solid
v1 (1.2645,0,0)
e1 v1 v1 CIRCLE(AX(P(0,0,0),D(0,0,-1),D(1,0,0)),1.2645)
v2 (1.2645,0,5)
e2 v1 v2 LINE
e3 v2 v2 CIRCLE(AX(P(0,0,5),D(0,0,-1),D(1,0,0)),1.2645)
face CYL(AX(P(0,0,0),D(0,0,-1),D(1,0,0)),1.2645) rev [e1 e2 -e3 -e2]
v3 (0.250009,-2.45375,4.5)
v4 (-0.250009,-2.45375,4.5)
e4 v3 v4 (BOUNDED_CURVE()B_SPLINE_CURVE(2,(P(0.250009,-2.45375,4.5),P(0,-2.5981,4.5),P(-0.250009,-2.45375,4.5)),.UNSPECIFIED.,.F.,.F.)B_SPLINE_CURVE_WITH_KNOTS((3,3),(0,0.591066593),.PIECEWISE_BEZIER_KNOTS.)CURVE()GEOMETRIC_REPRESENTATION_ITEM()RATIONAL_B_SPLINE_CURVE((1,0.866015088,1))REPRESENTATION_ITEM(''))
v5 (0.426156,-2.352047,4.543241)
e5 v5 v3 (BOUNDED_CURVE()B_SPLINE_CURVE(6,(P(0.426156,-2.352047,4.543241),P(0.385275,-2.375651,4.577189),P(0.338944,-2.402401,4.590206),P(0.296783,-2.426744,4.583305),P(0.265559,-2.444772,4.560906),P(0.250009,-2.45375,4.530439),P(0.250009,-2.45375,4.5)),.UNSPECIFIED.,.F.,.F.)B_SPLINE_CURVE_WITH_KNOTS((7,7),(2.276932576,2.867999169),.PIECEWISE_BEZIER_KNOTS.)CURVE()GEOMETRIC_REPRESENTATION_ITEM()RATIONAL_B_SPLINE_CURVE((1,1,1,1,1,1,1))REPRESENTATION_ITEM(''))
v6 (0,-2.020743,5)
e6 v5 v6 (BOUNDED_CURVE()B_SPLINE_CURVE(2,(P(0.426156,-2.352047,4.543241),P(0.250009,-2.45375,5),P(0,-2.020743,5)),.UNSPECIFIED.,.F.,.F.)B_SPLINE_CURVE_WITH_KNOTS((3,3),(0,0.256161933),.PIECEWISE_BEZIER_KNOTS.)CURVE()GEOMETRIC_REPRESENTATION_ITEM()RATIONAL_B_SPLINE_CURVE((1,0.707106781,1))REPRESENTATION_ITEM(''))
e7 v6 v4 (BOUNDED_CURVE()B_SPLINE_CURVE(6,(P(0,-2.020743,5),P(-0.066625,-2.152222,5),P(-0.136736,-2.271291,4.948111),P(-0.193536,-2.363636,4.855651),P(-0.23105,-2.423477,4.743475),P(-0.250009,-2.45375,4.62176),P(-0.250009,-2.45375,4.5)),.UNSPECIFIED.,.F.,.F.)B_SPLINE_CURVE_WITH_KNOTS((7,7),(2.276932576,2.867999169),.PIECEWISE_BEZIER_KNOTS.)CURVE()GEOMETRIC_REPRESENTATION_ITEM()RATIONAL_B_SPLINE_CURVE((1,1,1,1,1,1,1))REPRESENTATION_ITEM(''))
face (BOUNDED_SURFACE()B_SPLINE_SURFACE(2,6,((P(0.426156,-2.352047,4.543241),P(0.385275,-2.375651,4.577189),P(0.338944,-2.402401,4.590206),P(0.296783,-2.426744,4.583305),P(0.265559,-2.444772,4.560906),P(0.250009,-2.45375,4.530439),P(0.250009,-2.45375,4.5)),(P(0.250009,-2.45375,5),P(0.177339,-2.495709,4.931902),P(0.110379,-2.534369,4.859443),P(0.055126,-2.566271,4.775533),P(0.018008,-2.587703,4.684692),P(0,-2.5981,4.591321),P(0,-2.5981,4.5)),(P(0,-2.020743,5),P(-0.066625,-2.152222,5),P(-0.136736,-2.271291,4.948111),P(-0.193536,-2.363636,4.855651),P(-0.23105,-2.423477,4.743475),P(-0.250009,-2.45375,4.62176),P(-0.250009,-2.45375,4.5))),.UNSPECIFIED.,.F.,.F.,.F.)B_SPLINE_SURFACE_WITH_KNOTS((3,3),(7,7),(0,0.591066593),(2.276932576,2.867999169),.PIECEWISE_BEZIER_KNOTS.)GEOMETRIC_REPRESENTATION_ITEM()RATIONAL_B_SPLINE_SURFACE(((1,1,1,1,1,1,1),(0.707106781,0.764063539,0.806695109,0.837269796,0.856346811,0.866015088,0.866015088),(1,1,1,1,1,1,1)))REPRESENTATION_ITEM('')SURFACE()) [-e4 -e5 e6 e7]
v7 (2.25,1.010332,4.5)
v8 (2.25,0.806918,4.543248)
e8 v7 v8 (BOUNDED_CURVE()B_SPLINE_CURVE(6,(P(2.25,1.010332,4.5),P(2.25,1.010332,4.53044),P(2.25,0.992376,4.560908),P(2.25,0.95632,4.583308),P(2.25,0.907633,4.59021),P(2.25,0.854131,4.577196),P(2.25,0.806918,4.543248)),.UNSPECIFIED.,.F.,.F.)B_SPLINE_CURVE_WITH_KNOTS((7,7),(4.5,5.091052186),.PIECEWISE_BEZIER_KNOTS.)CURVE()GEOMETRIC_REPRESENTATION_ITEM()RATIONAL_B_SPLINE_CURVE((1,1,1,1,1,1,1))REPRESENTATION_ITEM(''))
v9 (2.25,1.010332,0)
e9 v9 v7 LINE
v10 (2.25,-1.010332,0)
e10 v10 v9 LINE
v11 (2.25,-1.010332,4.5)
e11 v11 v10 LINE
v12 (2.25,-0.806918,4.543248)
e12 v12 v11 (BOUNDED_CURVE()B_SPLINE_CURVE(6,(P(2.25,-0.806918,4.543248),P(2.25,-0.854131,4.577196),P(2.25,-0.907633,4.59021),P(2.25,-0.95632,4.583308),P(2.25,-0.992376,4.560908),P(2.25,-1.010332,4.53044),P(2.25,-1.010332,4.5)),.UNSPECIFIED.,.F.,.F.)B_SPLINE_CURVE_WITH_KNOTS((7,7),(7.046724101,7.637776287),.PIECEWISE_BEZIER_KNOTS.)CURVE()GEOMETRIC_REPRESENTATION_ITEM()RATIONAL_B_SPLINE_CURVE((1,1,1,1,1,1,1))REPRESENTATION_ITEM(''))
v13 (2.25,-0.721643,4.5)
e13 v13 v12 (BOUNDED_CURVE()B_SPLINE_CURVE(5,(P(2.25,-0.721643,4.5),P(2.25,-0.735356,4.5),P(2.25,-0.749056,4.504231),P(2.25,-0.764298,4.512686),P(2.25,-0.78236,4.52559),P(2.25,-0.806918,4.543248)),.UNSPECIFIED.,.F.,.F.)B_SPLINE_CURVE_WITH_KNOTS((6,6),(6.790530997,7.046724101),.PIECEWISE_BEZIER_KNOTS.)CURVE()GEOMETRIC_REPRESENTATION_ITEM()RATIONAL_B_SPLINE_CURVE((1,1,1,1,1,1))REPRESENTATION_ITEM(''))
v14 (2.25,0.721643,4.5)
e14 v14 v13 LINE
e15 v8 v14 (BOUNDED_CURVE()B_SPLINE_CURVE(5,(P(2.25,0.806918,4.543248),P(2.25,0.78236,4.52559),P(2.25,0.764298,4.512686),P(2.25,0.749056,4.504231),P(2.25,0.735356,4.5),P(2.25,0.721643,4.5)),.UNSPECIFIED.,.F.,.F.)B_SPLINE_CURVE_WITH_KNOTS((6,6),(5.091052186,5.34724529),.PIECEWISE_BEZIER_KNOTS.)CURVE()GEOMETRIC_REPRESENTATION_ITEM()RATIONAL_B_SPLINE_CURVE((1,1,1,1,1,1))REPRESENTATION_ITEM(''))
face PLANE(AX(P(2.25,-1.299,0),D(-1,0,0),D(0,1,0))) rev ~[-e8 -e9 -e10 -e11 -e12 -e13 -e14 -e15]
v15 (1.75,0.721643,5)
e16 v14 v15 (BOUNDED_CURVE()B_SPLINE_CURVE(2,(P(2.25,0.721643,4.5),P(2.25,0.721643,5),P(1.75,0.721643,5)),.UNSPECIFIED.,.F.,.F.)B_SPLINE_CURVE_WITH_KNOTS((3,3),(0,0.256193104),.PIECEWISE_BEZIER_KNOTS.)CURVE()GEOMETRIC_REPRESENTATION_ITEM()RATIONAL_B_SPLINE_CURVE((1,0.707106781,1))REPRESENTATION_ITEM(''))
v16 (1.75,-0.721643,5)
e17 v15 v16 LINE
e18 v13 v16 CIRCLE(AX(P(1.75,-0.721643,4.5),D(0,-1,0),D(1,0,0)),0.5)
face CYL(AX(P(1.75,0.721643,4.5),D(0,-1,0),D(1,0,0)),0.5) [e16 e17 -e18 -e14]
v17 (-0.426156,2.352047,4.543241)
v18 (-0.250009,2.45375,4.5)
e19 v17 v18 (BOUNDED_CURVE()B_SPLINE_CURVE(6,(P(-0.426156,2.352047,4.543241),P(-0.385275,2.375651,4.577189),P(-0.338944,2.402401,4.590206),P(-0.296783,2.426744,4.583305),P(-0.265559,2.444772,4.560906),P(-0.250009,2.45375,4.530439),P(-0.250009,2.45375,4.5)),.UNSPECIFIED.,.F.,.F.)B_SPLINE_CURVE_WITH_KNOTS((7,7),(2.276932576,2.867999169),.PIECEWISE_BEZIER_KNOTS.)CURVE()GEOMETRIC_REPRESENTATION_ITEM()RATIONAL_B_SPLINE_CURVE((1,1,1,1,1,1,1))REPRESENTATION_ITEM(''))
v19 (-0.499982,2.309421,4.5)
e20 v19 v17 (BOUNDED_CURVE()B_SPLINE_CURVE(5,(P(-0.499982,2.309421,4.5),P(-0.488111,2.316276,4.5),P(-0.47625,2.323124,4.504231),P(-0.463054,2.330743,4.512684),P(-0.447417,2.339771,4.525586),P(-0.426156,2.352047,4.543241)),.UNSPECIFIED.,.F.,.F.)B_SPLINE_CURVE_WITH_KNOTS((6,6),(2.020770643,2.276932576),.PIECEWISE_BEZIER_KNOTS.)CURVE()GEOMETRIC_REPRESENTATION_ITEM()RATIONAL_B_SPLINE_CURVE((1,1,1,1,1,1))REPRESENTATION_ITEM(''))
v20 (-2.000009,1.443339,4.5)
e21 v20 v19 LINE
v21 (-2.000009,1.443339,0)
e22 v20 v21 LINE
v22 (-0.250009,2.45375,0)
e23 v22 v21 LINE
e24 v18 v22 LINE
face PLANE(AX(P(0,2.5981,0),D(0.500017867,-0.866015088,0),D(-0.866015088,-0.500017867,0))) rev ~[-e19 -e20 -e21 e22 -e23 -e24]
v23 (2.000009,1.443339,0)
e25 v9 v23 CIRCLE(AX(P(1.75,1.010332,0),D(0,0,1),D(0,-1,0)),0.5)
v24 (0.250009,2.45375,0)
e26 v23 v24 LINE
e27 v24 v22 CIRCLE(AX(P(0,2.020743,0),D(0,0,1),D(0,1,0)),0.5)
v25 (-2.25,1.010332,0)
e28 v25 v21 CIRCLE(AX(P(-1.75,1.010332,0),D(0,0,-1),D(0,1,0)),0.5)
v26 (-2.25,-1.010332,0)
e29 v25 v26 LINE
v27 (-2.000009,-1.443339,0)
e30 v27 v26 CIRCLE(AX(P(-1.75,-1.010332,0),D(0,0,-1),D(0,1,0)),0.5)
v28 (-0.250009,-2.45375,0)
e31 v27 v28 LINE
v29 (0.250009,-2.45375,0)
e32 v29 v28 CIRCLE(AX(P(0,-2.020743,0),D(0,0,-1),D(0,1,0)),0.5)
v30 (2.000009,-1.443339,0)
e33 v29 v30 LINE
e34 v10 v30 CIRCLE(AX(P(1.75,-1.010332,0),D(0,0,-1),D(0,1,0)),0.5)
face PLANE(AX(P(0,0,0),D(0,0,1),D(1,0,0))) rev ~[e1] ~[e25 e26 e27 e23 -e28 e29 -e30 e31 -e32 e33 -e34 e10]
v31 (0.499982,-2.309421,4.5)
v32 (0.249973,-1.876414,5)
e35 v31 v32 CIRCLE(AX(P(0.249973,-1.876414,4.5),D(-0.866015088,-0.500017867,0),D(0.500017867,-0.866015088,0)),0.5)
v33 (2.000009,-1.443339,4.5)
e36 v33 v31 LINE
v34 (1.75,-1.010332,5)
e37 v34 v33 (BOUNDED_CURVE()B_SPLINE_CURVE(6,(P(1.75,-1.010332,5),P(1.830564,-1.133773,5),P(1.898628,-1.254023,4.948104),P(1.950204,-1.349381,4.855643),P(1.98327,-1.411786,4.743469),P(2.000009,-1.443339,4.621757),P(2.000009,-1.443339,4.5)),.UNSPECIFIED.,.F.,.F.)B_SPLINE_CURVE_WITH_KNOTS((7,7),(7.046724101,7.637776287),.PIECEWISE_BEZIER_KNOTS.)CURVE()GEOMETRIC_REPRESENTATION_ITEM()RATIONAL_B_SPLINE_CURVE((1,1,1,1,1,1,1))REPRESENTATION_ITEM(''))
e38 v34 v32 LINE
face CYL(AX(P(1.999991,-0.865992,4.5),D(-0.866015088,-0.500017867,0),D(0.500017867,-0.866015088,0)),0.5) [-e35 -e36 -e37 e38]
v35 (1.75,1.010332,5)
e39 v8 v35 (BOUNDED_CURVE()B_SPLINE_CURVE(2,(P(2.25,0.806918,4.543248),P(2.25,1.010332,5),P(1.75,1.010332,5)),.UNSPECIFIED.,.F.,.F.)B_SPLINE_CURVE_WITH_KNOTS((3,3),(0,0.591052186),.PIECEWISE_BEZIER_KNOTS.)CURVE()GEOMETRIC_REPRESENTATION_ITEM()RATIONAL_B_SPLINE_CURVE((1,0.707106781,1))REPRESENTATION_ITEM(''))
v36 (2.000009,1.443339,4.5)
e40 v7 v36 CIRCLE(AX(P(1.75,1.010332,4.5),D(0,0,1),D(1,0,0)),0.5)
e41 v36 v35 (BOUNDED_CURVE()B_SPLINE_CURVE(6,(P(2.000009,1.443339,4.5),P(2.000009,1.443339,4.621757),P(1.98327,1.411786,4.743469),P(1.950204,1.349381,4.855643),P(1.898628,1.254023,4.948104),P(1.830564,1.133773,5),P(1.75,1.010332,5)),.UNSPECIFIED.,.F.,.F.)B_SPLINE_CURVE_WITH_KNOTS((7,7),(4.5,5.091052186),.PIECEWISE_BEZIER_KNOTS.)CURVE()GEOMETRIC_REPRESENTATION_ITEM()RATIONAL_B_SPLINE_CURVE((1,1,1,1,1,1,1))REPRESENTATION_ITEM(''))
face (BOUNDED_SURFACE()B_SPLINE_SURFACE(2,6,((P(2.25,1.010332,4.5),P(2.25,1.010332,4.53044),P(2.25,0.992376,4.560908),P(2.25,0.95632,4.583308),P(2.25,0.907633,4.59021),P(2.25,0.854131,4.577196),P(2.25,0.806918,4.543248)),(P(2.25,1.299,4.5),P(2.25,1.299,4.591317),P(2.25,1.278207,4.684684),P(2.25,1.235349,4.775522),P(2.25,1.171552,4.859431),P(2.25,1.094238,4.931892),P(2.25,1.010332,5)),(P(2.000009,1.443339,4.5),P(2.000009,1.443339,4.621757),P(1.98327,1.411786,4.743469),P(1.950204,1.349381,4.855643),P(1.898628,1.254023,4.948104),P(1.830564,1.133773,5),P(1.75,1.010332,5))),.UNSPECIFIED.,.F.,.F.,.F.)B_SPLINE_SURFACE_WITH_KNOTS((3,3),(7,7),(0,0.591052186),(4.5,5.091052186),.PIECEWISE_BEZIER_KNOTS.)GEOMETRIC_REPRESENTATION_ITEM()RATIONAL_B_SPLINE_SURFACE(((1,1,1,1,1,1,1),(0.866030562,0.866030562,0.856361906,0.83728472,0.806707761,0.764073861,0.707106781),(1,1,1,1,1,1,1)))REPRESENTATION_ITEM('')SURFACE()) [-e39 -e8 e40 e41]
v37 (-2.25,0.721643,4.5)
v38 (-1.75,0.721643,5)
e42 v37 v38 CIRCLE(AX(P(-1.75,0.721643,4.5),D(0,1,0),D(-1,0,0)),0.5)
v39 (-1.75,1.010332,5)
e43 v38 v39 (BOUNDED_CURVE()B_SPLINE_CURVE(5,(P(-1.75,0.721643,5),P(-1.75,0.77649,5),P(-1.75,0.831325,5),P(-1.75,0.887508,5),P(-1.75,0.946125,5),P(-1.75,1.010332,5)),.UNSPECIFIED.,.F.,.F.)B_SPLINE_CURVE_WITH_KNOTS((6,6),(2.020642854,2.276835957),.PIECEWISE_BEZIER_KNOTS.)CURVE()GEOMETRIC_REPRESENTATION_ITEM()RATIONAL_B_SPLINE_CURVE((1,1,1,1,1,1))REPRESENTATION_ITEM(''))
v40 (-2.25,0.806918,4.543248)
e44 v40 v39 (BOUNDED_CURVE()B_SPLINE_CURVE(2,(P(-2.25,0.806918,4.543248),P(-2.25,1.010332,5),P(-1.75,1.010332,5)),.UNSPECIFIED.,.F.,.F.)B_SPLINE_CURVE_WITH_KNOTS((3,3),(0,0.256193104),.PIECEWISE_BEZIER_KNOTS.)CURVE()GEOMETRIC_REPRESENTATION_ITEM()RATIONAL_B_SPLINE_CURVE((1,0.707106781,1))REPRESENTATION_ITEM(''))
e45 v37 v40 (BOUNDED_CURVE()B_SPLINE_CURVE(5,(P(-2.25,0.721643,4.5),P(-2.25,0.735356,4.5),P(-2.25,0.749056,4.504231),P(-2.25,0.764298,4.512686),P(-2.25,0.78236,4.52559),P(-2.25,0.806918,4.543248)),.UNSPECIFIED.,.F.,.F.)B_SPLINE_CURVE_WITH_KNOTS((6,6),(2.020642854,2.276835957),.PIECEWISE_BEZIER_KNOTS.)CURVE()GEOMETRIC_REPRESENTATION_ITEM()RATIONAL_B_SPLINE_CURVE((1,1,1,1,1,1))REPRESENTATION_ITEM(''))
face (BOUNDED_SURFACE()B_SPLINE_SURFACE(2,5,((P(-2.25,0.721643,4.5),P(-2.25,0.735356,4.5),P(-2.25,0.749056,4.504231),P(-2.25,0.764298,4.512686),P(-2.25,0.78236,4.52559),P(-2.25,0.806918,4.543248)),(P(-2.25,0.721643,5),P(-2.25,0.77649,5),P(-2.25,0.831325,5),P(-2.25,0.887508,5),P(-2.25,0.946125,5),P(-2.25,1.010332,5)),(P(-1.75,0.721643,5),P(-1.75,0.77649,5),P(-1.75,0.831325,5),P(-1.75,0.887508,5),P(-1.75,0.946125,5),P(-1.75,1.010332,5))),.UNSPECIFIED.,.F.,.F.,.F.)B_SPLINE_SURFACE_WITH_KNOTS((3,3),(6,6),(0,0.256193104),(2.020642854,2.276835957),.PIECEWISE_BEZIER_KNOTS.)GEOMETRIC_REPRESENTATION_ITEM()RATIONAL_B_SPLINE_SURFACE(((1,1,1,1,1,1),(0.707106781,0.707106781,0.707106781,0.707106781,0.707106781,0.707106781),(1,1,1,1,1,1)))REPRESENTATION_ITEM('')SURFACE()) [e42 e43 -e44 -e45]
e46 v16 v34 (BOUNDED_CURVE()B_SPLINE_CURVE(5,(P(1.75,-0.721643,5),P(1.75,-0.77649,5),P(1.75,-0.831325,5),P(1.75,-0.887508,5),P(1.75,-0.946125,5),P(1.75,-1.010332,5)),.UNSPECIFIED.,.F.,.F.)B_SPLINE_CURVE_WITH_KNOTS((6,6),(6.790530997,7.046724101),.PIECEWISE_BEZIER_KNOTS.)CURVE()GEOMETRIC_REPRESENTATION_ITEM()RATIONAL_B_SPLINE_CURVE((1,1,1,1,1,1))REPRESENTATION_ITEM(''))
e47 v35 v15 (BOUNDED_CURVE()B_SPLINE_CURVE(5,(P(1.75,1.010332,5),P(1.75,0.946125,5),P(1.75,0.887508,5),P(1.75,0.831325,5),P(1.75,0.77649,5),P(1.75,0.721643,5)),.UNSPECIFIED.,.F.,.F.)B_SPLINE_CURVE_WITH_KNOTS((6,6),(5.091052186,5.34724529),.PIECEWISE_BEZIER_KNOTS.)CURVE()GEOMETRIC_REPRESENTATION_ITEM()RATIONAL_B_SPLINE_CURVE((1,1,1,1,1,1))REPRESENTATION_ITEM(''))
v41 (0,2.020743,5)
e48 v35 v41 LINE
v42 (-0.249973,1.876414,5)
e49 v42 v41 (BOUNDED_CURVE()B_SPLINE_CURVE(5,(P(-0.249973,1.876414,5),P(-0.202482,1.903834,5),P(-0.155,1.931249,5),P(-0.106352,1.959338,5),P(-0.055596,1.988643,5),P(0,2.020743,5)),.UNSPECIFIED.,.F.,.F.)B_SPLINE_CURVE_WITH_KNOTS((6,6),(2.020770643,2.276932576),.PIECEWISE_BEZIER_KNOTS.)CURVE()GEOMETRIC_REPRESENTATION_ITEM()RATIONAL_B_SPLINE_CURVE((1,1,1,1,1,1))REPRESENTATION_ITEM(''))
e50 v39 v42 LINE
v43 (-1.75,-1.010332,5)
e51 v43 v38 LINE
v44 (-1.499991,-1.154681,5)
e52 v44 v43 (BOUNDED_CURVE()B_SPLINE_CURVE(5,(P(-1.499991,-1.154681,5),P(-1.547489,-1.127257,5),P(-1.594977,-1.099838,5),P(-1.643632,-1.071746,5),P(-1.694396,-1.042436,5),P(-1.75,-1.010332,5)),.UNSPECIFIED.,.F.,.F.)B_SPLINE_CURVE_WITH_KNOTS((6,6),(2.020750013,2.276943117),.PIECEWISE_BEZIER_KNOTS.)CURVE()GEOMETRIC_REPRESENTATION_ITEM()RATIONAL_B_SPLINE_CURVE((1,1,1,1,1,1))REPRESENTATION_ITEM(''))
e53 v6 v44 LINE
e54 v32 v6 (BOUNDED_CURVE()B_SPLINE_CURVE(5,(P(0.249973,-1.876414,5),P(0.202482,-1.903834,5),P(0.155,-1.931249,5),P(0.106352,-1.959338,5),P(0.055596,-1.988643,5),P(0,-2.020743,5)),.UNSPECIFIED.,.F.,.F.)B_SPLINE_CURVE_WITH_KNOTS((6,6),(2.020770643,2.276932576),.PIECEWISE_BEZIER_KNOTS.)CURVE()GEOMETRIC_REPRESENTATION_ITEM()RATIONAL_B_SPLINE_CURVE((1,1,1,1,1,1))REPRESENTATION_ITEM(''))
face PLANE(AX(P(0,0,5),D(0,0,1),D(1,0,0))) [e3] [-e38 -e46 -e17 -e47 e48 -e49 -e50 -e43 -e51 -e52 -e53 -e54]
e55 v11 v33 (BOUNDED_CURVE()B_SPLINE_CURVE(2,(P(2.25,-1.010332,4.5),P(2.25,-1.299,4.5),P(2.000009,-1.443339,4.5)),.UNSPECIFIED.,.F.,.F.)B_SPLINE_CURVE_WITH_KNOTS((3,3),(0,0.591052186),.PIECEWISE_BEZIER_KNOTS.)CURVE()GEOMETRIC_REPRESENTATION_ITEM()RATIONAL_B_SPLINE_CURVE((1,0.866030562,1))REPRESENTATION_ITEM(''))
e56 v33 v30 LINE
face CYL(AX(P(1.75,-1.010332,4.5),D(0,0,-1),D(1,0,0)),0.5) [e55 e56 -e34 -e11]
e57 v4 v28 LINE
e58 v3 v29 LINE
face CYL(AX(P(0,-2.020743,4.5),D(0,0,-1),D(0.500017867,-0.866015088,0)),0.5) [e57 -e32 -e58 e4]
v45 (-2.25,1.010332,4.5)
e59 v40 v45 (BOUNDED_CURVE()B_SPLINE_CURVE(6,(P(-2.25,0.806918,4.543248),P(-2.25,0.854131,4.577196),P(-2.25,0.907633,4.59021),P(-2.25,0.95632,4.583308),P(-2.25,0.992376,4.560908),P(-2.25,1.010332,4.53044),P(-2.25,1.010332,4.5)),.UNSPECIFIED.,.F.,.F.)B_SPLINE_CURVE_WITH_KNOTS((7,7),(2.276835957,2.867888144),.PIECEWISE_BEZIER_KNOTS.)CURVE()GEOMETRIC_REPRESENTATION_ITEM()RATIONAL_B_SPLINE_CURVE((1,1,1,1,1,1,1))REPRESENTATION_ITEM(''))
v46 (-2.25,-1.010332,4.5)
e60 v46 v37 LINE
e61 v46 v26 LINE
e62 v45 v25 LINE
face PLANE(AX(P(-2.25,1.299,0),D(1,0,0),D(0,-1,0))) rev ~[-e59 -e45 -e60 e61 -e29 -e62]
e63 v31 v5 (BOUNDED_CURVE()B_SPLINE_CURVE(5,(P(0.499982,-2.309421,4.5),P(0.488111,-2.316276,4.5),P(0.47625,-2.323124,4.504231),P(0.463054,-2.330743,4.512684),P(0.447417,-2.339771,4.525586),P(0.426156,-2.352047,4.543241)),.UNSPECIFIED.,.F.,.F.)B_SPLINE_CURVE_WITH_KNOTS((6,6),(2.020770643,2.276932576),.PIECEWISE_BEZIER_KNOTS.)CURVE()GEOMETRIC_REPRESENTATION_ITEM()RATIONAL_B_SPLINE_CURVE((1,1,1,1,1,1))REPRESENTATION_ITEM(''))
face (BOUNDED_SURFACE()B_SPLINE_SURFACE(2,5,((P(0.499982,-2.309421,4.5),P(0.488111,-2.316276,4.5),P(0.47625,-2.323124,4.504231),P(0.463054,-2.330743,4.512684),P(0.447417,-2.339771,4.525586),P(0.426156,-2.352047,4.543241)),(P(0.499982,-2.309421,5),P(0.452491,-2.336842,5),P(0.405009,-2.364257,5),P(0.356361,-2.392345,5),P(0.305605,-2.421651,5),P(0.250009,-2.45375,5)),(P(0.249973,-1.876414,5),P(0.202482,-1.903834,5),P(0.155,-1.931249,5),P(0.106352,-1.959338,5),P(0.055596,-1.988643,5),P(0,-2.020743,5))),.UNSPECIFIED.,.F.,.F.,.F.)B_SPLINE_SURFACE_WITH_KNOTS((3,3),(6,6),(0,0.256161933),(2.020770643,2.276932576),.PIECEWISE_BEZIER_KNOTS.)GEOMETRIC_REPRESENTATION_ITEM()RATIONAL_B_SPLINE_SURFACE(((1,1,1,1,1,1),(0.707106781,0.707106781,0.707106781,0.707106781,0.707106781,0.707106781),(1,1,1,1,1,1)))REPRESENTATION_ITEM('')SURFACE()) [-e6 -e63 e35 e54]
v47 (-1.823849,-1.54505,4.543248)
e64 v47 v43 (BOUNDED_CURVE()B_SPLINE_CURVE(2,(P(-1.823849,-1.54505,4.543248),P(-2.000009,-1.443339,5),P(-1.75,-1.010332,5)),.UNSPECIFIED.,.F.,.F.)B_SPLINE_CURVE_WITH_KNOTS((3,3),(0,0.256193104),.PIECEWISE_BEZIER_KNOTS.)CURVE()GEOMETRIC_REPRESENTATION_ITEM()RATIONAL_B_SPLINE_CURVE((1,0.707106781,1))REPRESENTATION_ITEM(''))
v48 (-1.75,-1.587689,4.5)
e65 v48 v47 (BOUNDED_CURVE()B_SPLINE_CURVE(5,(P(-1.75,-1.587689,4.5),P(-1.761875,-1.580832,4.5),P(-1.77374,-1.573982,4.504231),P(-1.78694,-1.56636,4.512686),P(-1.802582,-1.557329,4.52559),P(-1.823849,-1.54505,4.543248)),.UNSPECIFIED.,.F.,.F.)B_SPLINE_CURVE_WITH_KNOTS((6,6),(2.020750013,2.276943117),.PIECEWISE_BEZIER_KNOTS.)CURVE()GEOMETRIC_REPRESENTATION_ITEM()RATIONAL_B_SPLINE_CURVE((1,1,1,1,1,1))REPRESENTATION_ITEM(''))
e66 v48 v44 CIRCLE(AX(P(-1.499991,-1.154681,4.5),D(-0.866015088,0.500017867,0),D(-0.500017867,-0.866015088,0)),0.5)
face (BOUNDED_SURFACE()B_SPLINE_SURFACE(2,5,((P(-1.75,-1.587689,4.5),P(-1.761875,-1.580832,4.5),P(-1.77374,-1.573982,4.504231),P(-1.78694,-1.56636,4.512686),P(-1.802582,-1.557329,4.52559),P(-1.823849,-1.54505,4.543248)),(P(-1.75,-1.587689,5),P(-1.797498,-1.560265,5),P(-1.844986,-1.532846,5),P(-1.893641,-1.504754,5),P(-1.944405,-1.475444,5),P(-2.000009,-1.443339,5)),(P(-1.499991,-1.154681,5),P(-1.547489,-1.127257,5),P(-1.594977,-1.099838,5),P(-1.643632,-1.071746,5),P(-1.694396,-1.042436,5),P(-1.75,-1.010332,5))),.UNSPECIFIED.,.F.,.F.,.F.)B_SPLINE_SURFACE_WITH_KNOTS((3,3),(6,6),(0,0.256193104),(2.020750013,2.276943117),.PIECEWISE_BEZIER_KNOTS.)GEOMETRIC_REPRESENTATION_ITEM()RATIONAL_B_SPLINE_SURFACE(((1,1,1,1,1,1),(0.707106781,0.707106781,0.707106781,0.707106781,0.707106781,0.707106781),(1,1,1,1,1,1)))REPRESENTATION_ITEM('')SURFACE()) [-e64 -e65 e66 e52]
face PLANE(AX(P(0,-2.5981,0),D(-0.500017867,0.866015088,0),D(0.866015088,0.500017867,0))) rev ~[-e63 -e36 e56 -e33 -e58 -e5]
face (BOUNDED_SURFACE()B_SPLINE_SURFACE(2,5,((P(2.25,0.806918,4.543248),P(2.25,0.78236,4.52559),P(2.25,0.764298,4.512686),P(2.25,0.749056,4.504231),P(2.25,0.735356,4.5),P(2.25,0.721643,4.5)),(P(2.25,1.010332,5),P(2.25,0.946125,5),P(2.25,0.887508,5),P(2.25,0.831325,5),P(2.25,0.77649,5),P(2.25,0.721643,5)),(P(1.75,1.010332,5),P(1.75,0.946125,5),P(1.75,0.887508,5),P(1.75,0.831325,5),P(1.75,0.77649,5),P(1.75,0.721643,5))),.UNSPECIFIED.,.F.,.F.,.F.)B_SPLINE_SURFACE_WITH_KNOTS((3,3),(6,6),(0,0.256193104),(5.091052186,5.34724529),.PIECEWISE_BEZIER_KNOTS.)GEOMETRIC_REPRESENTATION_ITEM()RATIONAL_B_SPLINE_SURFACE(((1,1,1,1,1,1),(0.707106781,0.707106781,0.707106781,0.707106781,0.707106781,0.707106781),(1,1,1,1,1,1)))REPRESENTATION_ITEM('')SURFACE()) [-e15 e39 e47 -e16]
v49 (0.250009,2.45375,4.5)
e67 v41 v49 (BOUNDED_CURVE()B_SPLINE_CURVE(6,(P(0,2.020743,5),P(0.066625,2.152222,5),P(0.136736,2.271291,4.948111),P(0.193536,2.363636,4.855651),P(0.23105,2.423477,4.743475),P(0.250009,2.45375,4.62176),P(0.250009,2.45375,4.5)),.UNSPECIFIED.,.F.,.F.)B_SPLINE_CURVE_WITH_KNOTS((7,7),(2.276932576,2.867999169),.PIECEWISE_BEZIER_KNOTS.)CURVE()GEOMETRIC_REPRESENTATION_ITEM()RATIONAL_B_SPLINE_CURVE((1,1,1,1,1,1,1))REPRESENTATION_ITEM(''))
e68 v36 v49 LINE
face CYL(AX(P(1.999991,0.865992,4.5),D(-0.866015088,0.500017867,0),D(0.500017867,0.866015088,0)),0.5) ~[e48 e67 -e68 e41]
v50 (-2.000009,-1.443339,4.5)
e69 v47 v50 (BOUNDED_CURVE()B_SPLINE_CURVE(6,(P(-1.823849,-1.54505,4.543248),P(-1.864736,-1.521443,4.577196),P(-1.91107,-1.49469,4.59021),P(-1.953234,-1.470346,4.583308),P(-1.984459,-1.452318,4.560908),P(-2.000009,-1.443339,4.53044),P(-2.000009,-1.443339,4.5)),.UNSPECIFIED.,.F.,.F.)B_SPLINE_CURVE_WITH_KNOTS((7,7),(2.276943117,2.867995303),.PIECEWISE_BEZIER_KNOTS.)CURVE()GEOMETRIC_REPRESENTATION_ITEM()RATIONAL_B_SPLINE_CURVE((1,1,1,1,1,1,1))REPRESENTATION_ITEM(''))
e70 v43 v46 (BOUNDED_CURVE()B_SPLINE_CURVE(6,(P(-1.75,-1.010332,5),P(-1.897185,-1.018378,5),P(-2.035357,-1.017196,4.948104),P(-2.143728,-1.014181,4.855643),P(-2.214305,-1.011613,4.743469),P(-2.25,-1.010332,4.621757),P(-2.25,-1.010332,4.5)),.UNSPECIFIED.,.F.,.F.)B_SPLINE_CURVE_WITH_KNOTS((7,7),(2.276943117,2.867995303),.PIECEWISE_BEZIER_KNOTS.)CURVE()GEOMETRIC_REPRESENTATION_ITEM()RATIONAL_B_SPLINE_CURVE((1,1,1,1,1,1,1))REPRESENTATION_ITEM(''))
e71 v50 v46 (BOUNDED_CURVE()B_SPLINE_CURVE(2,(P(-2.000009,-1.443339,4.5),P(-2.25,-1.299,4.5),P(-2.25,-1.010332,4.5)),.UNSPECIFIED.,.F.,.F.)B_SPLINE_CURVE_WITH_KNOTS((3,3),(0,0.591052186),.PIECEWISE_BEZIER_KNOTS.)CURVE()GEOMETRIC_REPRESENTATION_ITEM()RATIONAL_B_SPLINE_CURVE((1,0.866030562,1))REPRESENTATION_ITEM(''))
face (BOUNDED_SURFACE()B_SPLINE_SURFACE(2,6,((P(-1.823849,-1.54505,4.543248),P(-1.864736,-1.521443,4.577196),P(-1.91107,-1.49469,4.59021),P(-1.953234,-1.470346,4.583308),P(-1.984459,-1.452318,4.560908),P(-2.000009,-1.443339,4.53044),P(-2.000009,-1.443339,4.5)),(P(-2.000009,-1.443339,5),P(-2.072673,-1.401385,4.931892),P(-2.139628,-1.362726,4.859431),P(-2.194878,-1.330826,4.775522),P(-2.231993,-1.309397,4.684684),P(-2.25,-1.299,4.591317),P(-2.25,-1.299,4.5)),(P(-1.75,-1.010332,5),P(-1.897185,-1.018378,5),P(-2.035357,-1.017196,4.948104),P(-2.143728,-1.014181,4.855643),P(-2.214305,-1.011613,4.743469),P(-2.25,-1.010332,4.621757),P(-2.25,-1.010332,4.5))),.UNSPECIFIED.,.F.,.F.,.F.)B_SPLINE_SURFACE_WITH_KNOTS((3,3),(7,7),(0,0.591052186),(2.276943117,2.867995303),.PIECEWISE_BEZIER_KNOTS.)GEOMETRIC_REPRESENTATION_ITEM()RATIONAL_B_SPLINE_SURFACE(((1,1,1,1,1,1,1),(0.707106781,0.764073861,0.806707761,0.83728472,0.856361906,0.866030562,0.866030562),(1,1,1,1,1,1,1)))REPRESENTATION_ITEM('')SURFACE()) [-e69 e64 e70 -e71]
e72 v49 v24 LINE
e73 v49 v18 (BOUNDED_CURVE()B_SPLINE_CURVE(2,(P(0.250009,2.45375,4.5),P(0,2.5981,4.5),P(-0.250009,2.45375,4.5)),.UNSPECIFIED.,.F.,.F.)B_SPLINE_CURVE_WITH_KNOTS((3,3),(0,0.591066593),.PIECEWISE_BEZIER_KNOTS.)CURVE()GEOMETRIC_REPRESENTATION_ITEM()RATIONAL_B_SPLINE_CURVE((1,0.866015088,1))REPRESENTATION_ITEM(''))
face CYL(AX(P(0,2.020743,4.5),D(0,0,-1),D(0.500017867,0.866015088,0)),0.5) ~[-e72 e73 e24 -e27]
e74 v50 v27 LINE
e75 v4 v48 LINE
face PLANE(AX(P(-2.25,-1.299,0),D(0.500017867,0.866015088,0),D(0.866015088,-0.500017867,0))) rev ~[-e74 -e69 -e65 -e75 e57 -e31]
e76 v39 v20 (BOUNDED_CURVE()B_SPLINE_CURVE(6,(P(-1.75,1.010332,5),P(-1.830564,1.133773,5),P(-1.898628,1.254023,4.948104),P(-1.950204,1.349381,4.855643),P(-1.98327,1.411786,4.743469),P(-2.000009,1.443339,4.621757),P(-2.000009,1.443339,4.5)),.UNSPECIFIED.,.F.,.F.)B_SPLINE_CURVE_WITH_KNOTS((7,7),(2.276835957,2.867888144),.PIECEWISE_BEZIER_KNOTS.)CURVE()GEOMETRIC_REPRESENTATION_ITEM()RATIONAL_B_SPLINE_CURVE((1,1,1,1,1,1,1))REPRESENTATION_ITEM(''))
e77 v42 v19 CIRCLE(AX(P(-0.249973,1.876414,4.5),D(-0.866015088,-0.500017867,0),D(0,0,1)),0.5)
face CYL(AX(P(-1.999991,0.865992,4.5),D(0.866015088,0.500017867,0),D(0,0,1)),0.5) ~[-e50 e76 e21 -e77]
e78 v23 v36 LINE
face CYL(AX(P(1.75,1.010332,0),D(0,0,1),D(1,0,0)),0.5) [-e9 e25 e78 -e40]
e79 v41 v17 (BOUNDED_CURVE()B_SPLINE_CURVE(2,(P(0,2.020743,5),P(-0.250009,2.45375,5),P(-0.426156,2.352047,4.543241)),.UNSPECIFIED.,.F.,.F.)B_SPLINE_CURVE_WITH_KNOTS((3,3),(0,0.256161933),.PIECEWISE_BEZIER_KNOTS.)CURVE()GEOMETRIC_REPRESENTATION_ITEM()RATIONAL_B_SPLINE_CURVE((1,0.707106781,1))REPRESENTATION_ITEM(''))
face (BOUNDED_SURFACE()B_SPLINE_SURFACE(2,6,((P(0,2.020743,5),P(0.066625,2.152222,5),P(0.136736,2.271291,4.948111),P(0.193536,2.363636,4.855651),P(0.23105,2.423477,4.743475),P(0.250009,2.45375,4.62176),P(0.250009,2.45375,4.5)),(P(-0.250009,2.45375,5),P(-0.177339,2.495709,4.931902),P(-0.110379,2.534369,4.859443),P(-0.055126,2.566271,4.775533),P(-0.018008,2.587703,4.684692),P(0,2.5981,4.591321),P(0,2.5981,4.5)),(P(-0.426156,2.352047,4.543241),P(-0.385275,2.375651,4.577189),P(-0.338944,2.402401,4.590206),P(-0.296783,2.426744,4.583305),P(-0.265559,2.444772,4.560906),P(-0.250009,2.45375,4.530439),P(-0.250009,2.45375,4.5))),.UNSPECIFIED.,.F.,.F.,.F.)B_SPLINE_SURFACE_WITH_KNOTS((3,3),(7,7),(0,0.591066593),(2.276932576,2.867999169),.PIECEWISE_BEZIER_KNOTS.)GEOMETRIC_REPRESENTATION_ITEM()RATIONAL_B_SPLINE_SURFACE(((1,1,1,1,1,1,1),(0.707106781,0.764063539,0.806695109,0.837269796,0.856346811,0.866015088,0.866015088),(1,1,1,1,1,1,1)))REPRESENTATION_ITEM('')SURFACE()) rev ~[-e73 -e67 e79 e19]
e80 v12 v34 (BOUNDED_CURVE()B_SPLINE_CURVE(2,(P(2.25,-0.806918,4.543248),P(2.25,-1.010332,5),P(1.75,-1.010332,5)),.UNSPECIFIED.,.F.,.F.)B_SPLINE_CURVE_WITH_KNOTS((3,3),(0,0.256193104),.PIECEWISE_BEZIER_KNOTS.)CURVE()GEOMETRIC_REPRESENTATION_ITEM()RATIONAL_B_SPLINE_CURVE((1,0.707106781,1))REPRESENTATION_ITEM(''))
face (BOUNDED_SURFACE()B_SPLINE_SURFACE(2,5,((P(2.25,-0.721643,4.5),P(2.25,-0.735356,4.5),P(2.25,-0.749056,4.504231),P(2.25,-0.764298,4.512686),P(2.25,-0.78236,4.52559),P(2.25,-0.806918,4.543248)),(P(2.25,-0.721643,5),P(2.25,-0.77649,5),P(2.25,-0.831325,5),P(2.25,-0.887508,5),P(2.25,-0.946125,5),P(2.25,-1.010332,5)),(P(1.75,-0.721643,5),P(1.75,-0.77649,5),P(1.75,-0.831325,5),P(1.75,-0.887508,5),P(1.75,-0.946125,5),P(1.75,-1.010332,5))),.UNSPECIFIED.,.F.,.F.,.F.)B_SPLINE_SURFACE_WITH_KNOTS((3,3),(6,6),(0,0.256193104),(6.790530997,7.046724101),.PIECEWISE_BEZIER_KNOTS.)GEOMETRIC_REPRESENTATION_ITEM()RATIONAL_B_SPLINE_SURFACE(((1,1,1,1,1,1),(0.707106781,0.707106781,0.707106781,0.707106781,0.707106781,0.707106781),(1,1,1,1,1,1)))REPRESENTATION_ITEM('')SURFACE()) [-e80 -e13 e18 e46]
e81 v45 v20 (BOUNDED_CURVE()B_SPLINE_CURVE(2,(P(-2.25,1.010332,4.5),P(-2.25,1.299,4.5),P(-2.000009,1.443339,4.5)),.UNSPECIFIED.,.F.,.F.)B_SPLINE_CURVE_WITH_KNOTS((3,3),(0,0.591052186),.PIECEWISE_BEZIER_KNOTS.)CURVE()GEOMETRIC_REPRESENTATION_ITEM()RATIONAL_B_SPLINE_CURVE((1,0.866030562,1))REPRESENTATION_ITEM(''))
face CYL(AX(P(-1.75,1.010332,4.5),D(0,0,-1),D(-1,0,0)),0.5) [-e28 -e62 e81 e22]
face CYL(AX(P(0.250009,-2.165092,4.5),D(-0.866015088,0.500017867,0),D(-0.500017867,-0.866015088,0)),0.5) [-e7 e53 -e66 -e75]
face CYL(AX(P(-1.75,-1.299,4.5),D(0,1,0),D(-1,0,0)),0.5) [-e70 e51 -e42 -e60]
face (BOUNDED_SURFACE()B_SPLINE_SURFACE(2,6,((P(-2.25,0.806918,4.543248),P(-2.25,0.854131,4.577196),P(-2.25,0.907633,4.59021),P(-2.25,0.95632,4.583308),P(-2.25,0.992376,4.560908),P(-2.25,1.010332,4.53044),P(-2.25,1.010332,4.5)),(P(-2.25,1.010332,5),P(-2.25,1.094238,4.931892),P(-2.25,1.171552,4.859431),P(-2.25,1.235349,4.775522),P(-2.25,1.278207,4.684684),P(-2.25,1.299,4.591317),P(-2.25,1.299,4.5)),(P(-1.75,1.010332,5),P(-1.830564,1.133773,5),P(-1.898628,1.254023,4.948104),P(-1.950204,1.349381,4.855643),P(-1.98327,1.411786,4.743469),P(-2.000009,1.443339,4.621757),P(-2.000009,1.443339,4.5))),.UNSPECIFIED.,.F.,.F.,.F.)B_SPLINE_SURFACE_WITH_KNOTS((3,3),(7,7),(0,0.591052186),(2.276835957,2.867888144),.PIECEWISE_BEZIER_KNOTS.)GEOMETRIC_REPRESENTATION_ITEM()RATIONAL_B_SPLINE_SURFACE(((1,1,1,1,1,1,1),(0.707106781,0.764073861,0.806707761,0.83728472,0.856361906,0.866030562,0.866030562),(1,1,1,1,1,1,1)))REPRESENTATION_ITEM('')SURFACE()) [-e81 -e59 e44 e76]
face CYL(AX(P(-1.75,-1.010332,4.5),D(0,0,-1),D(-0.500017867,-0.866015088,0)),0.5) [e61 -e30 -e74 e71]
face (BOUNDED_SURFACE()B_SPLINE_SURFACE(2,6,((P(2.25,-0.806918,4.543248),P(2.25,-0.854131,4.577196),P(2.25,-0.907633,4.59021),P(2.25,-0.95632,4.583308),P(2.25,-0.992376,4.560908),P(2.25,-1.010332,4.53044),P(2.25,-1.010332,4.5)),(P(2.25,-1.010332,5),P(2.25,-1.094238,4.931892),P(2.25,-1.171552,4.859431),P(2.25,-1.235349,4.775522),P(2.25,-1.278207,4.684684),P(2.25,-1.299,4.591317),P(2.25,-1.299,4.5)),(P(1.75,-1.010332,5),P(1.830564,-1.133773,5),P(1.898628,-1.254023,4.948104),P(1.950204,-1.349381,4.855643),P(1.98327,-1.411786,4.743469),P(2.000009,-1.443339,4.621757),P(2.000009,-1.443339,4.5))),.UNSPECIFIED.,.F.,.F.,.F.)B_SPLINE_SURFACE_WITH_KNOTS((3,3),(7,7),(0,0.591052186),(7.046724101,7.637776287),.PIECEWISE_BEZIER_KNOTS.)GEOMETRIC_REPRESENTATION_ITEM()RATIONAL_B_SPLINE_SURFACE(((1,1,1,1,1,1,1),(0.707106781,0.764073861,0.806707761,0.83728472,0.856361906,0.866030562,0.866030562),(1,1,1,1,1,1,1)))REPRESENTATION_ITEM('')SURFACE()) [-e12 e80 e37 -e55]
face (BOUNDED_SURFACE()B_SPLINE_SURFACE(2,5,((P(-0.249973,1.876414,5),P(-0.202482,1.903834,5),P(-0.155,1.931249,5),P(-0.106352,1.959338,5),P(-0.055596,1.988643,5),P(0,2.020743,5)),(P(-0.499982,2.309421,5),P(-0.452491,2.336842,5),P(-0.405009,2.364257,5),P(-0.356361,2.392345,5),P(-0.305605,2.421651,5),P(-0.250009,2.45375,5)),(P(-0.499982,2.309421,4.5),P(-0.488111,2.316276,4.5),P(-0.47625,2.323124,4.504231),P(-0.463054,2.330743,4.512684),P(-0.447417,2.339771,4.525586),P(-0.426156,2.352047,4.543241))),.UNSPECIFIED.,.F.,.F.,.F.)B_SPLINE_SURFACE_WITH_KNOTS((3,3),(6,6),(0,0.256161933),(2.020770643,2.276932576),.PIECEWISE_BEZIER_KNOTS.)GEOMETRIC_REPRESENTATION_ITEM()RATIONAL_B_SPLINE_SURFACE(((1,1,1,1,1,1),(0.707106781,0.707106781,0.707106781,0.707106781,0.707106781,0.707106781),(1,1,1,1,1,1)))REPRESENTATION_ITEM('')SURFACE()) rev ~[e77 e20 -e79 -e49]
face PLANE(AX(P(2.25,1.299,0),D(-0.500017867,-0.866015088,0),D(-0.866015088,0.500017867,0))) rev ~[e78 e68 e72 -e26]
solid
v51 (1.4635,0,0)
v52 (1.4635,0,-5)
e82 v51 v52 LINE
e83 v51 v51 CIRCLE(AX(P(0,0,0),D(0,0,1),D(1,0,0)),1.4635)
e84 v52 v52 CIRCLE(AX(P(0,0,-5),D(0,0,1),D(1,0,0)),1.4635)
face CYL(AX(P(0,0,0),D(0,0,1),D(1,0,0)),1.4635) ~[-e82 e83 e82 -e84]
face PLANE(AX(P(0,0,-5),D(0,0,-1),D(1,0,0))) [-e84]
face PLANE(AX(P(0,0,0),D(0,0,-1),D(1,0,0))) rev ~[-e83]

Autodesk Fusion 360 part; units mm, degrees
sketch "Skizze1" plane through (0, 0, 0) normal (0, 0, 1) x (1, 0, 0)
  circle A0 centre (0, 0) radius 1.5
  line L0 (0, 0) -> (2.25, 0) construction
  line L1 (2.25, 1.299) -> (0, 2.5981)
  line L2 (0, 2.5981) -> (-2.25, 1.299)
  line L3 (-2.25, 1.299) -> (-2.25, -1.299)
  line L4 (-2.25, -1.299) -> (0, -2.5981)
  line L5 (0, -2.5981) -> (2.25, -1.299)
  line L6 (2.25, -1.299) -> (2.25, 1.299)
  dimension "d1" = 3
  dimension "d2" = 2.25
extrude "Extrusion1" add sketch "Skizze1" along normal blind 5 makes body 1
sketch "Skizze2" plane through (0, 0, 0) normal (0, 0, -1) x (1, 0, 0)
  circle A0 centre (0, 0) radius 1.5
  line L0 (2.25, -1.299) -> (2.25, 1.299)
  line L1 (2.25, 1.299) -> (0, 2.5981)
  line L2 (0, 2.5981) -> (-2.25, 1.299)
  line L3 (-2.25, 1.299) -> (-2.25, -1.299)
  line L4 (-2.25, -1.299) -> (0, -2.5981)
  line L5 (0, -2.5981) -> (2.25, -1.299)
  circle A1 centre (0, 0) radius 1.5
  dimension "d5" = 3
extrude "Extrusion2" add sketch "Skizze2" along normal blind 5 separate body contours A0 A1 makes body 2
thread "Gewinde1" "ISO Metric profile 3.0 M3x0.5 6g" major diameter 2.927 minor diameter 2.3555 pitch 0.5 angle 60 resizes the face on face at (1.4981, 0.0748, -3.3333) on bodies 2
thread "Gewinde2" "ISO Metric profile 3.0 M3x0.5 6H" major diameter 3.086 minor diameter 2.529 pitch 0.5 angle 60 resizes the face on face at (1.4981, -0.0748, 3.3333) on bodies 1
fillet "Abrundung1" radius 0.5 1 edges at (1.125, 1.9486, 5) on bodies 1
fillet "Abrundung2" radius 0.5 3 edges at (0, 2.5981, 2.25) (-0.1464, 2.5135, 4.8536) (-1.375, 1.8042, 5) on bodies 1
fillet "Abrundung3" radius 0.5 3 edges at (-2.25, 1.299, 2.25) (-2.25, 1.1299, 4.8536) (-2.25, -0.2887, 5) on bodies 1
fillet "Abrundung4" radius 0.5 3 edges at (-2.25, -1.299, 2.25) (-2.1036, -1.3836, 4.8536) (-0.875, -2.0929, 5) on bodies 1
fillet "Abrundung5" radius 0.5 3 edges at (0, -2.5981, 2.25) (0.1464, -2.5135, 4.8536) (1.375, -1.8042, 5) on bodies 1
fillet "Abrundung6" radius 0.5 5 edges at (2.25, -1.299, 2.25) (2.25, -1.1299, 4.8536) (2.25, 0, 5) (2.25, 1.1299, 4.8536) (2.25, 1.299, 2.25) on bodies 1
